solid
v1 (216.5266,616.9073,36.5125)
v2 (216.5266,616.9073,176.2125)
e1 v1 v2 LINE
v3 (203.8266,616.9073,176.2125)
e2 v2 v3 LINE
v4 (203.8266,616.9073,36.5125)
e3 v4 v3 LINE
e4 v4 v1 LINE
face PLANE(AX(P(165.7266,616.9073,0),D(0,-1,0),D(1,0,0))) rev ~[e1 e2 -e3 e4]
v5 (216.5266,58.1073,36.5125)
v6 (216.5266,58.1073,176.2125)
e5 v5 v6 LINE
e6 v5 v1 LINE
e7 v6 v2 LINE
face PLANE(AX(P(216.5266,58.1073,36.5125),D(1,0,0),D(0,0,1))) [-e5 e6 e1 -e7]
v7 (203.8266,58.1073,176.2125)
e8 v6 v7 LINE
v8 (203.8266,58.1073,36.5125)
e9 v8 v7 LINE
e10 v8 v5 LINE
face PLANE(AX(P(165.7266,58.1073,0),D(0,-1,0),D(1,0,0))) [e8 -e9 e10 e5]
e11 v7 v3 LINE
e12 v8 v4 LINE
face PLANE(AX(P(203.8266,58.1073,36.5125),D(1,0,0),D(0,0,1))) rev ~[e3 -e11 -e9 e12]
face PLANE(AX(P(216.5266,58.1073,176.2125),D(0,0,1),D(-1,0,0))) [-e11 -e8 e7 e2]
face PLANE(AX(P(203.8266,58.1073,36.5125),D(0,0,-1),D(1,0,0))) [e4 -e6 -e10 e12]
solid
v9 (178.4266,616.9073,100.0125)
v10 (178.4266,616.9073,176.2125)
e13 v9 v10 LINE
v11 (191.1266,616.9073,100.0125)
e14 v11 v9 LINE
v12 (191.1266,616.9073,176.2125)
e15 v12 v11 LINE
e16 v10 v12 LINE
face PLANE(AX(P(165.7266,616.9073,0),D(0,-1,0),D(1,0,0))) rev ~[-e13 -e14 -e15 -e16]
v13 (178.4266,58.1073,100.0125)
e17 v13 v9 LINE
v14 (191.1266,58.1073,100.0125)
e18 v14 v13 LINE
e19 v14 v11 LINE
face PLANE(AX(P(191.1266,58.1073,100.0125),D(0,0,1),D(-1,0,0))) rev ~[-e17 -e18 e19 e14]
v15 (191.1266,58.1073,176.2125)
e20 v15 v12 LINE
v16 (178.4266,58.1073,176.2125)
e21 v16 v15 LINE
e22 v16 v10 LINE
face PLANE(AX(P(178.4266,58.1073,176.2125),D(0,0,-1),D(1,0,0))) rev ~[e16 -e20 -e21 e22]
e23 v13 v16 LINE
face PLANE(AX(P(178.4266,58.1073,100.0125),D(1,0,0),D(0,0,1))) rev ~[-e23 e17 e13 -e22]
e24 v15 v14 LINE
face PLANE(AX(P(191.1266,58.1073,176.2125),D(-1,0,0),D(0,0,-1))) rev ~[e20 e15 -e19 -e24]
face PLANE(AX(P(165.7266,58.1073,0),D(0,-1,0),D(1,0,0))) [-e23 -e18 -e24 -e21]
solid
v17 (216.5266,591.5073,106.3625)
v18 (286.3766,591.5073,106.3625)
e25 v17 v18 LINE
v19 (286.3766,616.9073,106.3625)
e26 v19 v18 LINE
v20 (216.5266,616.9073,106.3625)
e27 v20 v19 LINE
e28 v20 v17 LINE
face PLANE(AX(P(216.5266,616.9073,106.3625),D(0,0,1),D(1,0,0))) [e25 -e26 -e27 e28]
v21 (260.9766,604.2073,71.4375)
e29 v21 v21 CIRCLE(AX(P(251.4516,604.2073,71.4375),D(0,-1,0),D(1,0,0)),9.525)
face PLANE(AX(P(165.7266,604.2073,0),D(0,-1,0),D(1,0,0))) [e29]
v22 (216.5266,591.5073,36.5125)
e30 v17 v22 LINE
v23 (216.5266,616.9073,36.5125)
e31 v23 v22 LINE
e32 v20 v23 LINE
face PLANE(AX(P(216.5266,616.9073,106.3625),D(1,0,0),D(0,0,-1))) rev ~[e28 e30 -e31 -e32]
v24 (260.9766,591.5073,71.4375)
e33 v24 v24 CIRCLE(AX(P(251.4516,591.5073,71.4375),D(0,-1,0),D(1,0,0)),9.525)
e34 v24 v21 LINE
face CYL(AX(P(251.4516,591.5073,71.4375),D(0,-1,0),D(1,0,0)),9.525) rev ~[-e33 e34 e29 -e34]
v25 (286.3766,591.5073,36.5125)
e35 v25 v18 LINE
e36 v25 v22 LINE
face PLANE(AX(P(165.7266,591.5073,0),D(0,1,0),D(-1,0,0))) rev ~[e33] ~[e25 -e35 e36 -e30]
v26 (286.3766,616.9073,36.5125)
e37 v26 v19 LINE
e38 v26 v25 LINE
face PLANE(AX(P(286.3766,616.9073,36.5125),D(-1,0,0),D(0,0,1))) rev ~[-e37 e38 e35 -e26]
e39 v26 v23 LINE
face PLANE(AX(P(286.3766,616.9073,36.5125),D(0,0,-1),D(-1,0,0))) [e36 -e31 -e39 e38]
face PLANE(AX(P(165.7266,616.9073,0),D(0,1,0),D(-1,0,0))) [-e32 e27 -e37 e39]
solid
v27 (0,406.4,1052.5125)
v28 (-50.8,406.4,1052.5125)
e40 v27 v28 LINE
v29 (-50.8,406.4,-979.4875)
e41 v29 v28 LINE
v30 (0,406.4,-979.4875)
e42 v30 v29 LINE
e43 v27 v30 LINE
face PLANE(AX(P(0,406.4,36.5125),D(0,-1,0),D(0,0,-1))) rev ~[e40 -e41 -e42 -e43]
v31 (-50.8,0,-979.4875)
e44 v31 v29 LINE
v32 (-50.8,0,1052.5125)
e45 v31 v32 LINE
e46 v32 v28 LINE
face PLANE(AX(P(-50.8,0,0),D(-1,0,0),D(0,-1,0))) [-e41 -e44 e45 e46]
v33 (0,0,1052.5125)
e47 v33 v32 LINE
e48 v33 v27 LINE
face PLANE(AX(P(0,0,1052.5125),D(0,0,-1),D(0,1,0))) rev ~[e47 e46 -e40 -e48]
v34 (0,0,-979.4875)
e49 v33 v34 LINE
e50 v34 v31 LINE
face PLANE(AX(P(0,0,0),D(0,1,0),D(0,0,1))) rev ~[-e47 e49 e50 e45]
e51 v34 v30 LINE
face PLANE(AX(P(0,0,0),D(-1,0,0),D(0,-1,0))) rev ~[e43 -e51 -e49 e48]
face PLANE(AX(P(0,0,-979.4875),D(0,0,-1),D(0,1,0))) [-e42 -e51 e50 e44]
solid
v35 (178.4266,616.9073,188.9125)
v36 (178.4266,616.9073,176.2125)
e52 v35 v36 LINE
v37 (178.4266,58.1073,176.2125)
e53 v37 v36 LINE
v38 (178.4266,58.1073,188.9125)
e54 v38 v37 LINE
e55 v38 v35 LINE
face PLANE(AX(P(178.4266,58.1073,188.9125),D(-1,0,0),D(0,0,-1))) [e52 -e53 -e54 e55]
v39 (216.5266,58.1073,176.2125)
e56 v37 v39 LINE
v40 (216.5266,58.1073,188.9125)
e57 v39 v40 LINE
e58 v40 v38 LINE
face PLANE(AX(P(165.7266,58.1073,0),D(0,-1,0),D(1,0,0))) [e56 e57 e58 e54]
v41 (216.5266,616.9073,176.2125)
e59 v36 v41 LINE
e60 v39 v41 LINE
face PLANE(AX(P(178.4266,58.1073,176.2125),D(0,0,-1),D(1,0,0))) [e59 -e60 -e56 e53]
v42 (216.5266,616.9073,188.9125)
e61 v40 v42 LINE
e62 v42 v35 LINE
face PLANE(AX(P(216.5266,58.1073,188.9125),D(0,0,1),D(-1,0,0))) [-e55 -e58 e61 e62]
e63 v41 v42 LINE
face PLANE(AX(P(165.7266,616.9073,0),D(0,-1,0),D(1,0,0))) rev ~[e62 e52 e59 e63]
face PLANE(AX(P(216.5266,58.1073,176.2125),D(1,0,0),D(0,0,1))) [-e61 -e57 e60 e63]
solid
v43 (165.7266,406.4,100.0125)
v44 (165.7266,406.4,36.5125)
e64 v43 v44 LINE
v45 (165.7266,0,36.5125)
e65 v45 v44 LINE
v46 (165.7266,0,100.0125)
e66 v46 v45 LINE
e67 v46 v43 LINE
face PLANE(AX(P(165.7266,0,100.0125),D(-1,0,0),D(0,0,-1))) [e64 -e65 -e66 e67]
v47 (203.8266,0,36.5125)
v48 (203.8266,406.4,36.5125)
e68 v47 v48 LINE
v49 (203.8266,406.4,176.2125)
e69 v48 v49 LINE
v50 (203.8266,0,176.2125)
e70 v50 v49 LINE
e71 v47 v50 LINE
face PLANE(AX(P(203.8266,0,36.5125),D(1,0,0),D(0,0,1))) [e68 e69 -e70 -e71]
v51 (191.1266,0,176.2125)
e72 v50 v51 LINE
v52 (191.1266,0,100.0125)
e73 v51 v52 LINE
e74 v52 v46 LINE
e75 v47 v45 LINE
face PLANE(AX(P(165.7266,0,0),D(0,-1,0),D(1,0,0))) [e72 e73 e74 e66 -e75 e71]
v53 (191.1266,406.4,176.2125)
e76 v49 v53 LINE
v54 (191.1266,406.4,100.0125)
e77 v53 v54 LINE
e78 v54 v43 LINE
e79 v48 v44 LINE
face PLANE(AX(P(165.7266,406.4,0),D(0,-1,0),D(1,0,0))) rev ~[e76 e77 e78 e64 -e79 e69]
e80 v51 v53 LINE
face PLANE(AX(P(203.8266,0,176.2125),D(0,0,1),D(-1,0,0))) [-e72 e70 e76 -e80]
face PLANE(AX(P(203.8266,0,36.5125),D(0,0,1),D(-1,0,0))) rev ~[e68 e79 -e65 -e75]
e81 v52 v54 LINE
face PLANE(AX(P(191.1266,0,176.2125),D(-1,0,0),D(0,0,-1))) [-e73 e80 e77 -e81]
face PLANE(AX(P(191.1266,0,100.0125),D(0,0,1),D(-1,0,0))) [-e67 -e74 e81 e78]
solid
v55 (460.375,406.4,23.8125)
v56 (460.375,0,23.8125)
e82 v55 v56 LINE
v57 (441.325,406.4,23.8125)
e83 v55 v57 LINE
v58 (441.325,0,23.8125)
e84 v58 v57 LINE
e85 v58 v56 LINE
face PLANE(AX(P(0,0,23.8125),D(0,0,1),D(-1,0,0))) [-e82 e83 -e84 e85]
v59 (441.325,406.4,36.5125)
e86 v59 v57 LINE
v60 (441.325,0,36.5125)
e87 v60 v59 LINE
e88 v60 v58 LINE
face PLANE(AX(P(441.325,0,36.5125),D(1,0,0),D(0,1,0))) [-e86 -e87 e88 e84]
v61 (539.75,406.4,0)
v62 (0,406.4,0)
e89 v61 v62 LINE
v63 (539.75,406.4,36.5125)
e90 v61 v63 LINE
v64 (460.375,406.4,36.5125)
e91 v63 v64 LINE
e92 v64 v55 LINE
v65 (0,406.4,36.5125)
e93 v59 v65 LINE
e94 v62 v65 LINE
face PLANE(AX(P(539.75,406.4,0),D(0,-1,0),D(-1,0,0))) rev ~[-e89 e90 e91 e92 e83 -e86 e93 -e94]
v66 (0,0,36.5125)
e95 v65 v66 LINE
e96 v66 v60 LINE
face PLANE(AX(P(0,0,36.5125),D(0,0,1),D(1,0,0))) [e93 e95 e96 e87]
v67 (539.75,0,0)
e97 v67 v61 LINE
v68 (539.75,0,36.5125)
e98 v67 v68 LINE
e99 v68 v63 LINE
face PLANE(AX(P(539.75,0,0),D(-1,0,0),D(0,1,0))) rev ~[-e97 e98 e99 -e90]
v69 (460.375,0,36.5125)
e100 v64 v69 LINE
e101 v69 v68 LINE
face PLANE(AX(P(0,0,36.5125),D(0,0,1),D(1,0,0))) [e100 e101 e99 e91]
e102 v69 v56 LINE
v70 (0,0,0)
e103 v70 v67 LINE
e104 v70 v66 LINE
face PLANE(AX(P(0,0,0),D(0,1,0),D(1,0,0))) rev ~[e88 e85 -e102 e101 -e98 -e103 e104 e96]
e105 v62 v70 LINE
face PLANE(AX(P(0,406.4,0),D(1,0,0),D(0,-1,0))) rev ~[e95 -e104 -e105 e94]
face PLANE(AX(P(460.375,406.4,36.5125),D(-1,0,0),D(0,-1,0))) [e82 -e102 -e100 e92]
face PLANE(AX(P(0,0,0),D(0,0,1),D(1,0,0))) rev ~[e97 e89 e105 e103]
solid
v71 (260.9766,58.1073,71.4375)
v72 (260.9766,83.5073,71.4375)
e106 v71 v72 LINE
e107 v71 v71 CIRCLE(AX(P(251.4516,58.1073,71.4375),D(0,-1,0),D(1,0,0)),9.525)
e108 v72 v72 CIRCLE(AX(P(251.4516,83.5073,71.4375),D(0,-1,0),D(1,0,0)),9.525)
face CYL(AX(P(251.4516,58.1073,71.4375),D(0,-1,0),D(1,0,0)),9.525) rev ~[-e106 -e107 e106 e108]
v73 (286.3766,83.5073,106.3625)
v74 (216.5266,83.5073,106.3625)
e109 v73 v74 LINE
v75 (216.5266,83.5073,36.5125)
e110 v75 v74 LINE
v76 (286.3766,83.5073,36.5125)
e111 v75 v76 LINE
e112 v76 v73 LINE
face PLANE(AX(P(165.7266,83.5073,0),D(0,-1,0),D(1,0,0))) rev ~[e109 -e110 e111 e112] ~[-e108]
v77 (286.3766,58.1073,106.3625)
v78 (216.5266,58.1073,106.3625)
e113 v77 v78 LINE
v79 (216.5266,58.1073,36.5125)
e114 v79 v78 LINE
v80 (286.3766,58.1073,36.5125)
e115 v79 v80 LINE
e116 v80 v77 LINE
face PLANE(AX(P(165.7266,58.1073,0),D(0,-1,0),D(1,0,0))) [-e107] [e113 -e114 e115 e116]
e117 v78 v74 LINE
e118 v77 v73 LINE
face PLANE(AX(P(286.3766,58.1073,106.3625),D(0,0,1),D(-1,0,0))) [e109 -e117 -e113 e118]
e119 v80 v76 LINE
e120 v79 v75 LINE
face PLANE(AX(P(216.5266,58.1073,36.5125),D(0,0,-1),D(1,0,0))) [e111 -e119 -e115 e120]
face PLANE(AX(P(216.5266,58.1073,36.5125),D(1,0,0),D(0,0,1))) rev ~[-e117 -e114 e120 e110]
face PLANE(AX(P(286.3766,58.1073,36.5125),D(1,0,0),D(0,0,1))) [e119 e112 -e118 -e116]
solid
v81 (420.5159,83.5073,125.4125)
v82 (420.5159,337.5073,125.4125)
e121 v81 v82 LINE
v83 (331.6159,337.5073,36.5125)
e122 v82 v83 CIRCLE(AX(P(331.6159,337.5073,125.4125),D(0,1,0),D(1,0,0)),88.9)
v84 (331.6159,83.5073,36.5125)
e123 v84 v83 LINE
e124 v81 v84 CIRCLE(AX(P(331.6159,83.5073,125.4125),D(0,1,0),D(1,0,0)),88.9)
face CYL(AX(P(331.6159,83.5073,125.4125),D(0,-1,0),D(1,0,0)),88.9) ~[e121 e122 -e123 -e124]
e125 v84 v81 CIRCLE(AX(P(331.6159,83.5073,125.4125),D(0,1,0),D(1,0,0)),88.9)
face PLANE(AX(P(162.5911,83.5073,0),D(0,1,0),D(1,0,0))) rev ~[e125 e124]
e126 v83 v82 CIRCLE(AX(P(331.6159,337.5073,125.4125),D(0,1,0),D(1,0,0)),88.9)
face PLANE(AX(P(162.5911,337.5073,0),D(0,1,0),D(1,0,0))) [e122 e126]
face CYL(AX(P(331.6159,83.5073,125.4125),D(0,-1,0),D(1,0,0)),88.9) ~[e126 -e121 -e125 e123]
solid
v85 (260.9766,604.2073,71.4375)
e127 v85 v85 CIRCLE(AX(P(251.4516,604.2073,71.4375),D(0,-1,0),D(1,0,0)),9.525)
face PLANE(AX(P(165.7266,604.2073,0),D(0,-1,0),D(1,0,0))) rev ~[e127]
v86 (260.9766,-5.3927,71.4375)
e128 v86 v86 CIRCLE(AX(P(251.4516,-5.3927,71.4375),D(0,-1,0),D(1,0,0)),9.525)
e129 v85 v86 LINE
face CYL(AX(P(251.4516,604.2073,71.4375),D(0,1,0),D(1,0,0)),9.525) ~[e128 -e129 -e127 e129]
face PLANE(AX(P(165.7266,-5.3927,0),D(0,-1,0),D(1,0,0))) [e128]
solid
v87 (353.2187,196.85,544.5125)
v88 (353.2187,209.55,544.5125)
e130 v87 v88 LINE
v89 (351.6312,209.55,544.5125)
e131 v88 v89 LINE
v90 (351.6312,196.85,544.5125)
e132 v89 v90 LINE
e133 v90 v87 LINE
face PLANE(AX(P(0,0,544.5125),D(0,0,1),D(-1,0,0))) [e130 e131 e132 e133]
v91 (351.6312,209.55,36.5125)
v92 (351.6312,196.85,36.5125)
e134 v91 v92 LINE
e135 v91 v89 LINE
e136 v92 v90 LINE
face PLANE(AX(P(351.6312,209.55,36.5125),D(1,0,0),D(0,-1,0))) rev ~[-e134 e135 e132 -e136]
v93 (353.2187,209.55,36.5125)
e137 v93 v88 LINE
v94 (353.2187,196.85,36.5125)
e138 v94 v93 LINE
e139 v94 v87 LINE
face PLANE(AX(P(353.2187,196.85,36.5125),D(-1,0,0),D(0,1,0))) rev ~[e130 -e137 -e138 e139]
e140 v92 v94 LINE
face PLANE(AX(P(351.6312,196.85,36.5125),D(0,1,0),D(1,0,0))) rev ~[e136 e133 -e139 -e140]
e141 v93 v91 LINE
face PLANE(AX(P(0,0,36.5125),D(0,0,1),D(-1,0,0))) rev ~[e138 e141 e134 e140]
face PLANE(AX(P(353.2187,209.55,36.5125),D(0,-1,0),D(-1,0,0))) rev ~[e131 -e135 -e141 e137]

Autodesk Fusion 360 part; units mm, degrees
sketch "basicTable" plane through (0, 0, 0) normal (0, 0, 1) x (1, 0, 0) in component "table"
  line L0 (0, 0) -> (539.75, 0)
  line L1 (539.75, 0) -> (539.75, 406.4)
  line L2 (539.75, 406.4) -> (0, 406.4)
  line L3 (0, 406.4) -> (0, 0)
  dimension "d40" = 539.75
  dimension "d41" = 406.4
extrude "ExtrudeTableThickness" add sketch "basicTable" along normal blind 36.5125 makes body 1 in component "table"
sketch "miterOutline and Blade Placement" plane through (0, 0, 36.5125) normal (0, 0, 1) x (-1, 0, 0) in component "table"
  line L0 (0, -406.4) -> (0, 0)
  line L1 (0, 0) -> (-539.75, 0)
  line L2 (-539.75, 0) -> (-539.75, -406.4)
  line L3 (-539.75, -406.4) -> (0, -406.4)
  line L4 (-441.325, -406.4) -> (-460.375, -406.4)
  line L5 (-460.375, -406.4) -> (-460.375, 0)
  line L6 (-460.375, 0) -> (-441.325, 0)
  line L7 (-441.325, 0) -> (-441.325, -406.4)
  line L8 (-352.425, -406.4) -> (-352.425, 0) construction
  line L9 (-441.325, -203.2) -> (0, -203.2) construction
  point P0 (-352.425, -203.2)
  dimension "d44" = 79.375
  dimension "d45" = 19.05
  dimension "d46" = 88.9
  dimension "d47" = 203.2
extrude "ExtrudeMiterSlot" cut sketch "miterOutline and Blade Placement" against normal blind 12.7 contours L1 L3 L4 L5 L6 L7 bodies 1 in component "table"
sketch "Sketch1" plane through (0, 0, 36.5125) normal (0, 0, 1) x (-1, 0, 0) in component "BandsawBlade"
  line L0 (-351.6312, -196.85) -> (-353.2187, -196.85)
  line L1 (-353.2187, -196.85) -> (-353.2187, -209.55)
  line L2 (-353.2187, -209.55) -> (-351.6312, -209.55)
  line L3 (-351.6312, -209.55) -> (-351.6312, -196.85)
  line L4 (-351.6312, -196.85) -> (-353.2187, -209.55) construction
  line L5 (-353.2187, -196.85) -> (-351.6312, -209.55) construction
  point P0 (-352.425, -203.2)
  point P1 (-352.425, -203.2)
  dimension "d76" = 1.5875
  dimension "d77" = 12.7
extrude "Extrude1" add sketch "Sketch1" along normal blind 508 separate body makes body 2 in component "BandsawBlade"
sketch "logCylinder" plane through (0, 0, 0) normal (0, 1, 0) x (1, 0, 0) in component "Log"
  circle A0 centre (169.0248, -125.4125) radius 88.9
  line L0 (0, -36.5125) -> (441.325, -36.5125)
  point P0 (169.0248, -125.4125)
  point P1 (139.7, -76.2)
  dimension "d204" = 177.8
extrude "Extrude1'" add sketch "logCylinder" along normal blind 254 separate body makes body 3 in component "Log"
sketch "Sketch2" plane through (0, 0, 36.5125) normal (0, 0, 1) x (-1, 0, 0)
  line L0 (-441.325, 0) -> (-441.325, -406.4)
  line L1 (-441.325, -406.4) -> (0, -406.4)
  line L2 (0, -406.4) -> (0, 0)
  line L3 (0, 0) -> (-441.325, 0)
sketch "Sketch3" plane through (0, 0, 0) normal (0, -1, 0) x (1, 0, 0)
  line L0 (460.375, 36.5125) -> (460.375, 23.8125)
  line L1 (460.375, 23.8125) -> (441.325, 23.8125)
  line L2 (441.325, 23.8125) -> (441.325, 36.5125)
  line L3 (441.325, 36.5125) -> (0, 36.5125)
  line L4 (0, 36.5125) -> (0, 0)
  line L5 (0, 0) -> (539.75, 0)
  line L6 (539.75, 0) -> (539.75, 36.5125)
  line L7 (539.75, 36.5125) -> (460.375, 36.5125)
sketch "Sketch1 (2)" plane through (0, 0, 0) normal (0, -1, 0) x (1, 0, 0) in component "Fence"
  line L0 (441.325, 36.5125) -> (0, 36.5125)
  line L1 (38.1, 36.5125) -> (0, 36.5125)
  line L2 (38.1, 36.5125) -> (38.1, 176.2125)
  line L3 (38.1, 176.2125) -> (25.4, 176.2125)
  line L4 (25.4, 176.2125) -> (25.4, 100.0125)
  line L5 (25.4, 100.0125) -> (0, 100.0125)
  line L6 (0, 100.0125) -> (0, 36.5125)
  point P0 (0, 36.5125)
  dimension "d255" = 38.1
  dimension "d256" = 139.7
  dimension "d257" = 12.7
  dimension "d258" = 76.2
  dimension "d259" = 25.4
extrude "Extrude1''" add sketch "Sketch1 (2)" against normal blind 406.4 separate body makes body 4 in component "Fence"
sketch "leftJigPlate" plane through (0, 0, 0) normal (0, -1, 0) x (1, 0, 0) in component "jig"
  line L0 (25.4, 100.0125) -> (12.7, 100.0125)
  line L1 (12.7, 100.0125) -> (12.7, 176.2125)
  line L2 (12.7, 176.2125) -> (25.4, 176.2125)
  line L3 (25.4, 176.2125) -> (25.4, 100.0125)
  point P0 (25.4, 100.0125)
  dimension "d263" = 12.7
  dimension "d264" = 76.2
sketch "topJigPlate" plane through (0, 0, 0) normal (0, -1, 0) x (1, 0, 0) in component "jig"
  line L0 (12.7, 176.2125) -> (50.8, 176.2125)
  line L1 (50.8, 176.2125) -> (50.8, 188.9125)
  line L2 (50.8, 188.9125) -> (12.7, 188.9125)
  line L3 (12.7, 188.9125) -> (12.7, 176.2125)
  point P0 (12.7, 176.2125)
  dimension "d265" = 38.1
  dimension "d266" = 12.7
sketch "rightJigPlate" plane through (0, 0, 0) normal (0, -1, 0) x (1, 0, 0) in component "jig"
  line L0 (38.1, 36.5125) -> (38.1, 176.2125)
  line L1 (38.1, 176.2125) -> (25.4, 176.2125)
  line L2 (25.4, 176.2125) -> (25.4, 100.0125)
  line L3 (25.4, 100.0125) -> (0, 100.0125)
  line L4 (0, 100.0125) -> (0, 36.5125)
  line L5 (0, 36.5125) -> (38.1, 36.5125)
  line L6 (50.8, 176.2125) -> (38.1, 176.2125)
  line L7 (38.1, 176.2125) -> (38.1, 36.5125)
  line L8 (38.1, 36.5125) -> (50.8, 36.5125)
  line L9 (50.8, 36.5125) -> (50.8, 176.2125)
  point P0 (50.8, 176.2125)
extrude "Extrude1'''" add sketch "leftJigPlate" against normal blind 558.8 separate body makes body 5 in component "jig"
extrude "Extrude2" add sketch "topJigPlate" against normal blind 558.8 separate body makes body 6 in component "jig"
extrude "Extrude3" add sketch "rightJigPlate" against normal blind 558.8 separate body contours L0 L6 L7 L8 L9 makes body 7 in component "jig"
sketch "frontJigBlock" plane through (0, 0, 0) normal (0, -1, 0) x (1, 0, 0) in component "jig"
  line L0 (50.8, 36.5125) -> (50.8, 176.2125)
  line L1 (50.8, 176.2125) -> (38.1, 176.2125)
  line L2 (38.1, 176.2125) -> (38.1, 36.5125)
  line L3 (38.1, 36.5125) -> (50.8, 36.5125)
  line L4 (50.8, 36.5125) -> (120.65, 36.5125)
  line L5 (120.65, 36.5125) -> (120.65, 106.3625)
  line L6 (120.65, 106.3625) -> (50.8, 106.3625)
  line L7 (50.8, 106.3625) -> (50.8, 36.5125)
  dimension "d274" = 69.85
  dimension "d275" = 69.85
sketch "backJigBlock" plane through (0, 558.8, 0) normal (0, 1, 0) x (-1, 0, 0) in component "jig"
  line L0 (-50.8, 176.2125) -> (-50.8, 36.5125)
  line L1 (-50.8, 36.5125) -> (-38.1, 36.5125)
  line L2 (-38.1, 36.5125) -> (-38.1, 176.2125)
  line L3 (-38.1, 176.2125) -> (-50.8, 176.2125)
  line L4 (-120.65, 36.5125) -> (-50.8, 36.5125)
  line L5 (-50.8, 106.3625) -> (-120.65, 106.3625)
  line L6 (-50.8, 36.5125) -> (-50.8, 106.3625)
  line L7 (-120.65, 36.5125) -> (-120.65, 106.3625)
  dimension "d277" = 69.85
  dimension "d278" = 69.85
extrude "Extrude4" add sketch "frontJigBlock" against normal blind 25.4 separate body contours L0 L4 L5 L6 L7 makes body 8 in component "jig"
extrude "Extrude5" add sketch "backJigBlock" against normal blind 25.4 separate body contours L0 L4 L5 L6 L7 makes body 9 in component "jig"
copy_body "Body->Comp1" bodies 5 removing the originals makes body 10 in component "leftJigPlate"
copy_body "Body->Comp2" bodies 8 removing the originals makes body 11 in component "frontJigPlate"
copy_body "Body->Comp3" bodies 6 removing the originals makes body 12 in component "topJigPlate"
copy_body "Body->Comp4" bodies 7 removing the originals makes body 13 in component "rightJigPlate"
copy_body "Body->Comp5" bodies 9 removing the originals makes body 14 in component "rearJigPlate"
sketch "Sketch1 (3)" plane through (0, 533.4, 0) normal (0, -1, 0) x (1, 0, 0) in component "rearJigPlate"
  line L0 (50.8, 106.3625) -> (50.8, 36.5125)
  line L1 (50.8, 36.5125) -> (120.65, 36.5125)
  line L2 (120.65, 36.5125) -> (120.65, 106.3625)
  line L3 (120.65, 106.3625) -> (50.8, 106.3625)
  line L4 (50.8, 71.4375) -> (120.65, 71.4375) construction
  line L5 (85.725, 106.3625) -> (85.725, 36.5125) construction
  circle A0 centre (85.725, 71.4375) radius 9.525
  dimension "d283" = 19.05
extrude "Extrude1''''" cut sketch "Sketch1 (3)" against normal blind 12.7 contours A0 bodies 14 in component "rearJigPlate"
sketch "Sketch1 (4)" plane through (0, 0, 0) normal (0, -1, 0) x (1, 0, 0) in component "frontJigPlate"
  line L0 (50.8, 106.3625) -> (50.8, 36.5125)
  line L1 (120.65, 36.5125) -> (120.65, 106.3625)
  line L2 (50.8, 71.4375) -> (120.65, 71.4375) construction
  line L3 (50.8, 36.5125) -> (120.65, 36.5125)
  line L4 (120.65, 106.3625) -> (50.8, 106.3625)
  line L5 (85.725, 36.5125) -> (85.725, 106.3625) construction
  circle A0 centre (85.725, 71.4375) radius 9.525
  dimension "d286" = 19.05
extrude "Extrude1'''''" cut sketch "Sketch1 (4)" against normal blind 25.4 contours A0 bodies 11 in component "frontJigPlate"
extrude "Extrude1''''''" add 1 faces at (86.3729, 546.1, 77.328) along direction (0, -1, 0) blind 609.6 separate body on bodies 14 makes body 15 in component "pipe"
sketch "centerPointTangentLine" plane through (0, 0, 0) normal (0, -1, 0) x (1, 0, 0) in component "Log"
  circle A0 centre (169.0248, 125.4125) radius 88.9
  line L0 (169.0248, 125.4125) -> (169.0248, 36.5125) construction
  line L1 (169.0248, 71.4375) -> (98.3855, 71.4375) construction
  point P0 (169.0248, 125.4125)
  point P1 (169.0248, 71.4375)
  dimension "d344" = 34.925
sketch "Sketch1 (5)" plane through (0, -63.5, 0) normal (0, -1, 0) x (1, 0, 0) in component "pipe"
  circle A0 centre (85.725, 71.4375) radius 9.525
  line L0 (85.725, 71.4375) -> (95.25, 71.4375) construction
  point P0 (85.725, 71.4375)
sketch "Sketch1 (6)" plane through (0, 0, 0) normal (-1, 0, 0) x (0, -1, 0) in component "bandsawFrame"
  line L0 (-406.4, 0) -> (0, 0)
  line L1 (0, 0) -> (0, 36.5125)
  line L2 (0, 36.5125) -> (-406.4, 36.5125)
  line L3 (-406.4, 36.5125) -> (-406.4, 0)
  line L4 (-406.4, 36.5125) -> (0, 36.5125)
  line L5 (0, 36.5125) -> (0, 1052.5125)
  line L6 (0, 1052.5125) -> (-406.4, 1052.5125)
  line L7 (-406.4, 1052.5125) -> (-406.4, 36.5125)
  line L8 (-406.4, 36.5125) -> (0, 36.5125)
  line L9 (0, 36.5125) -> (0, -979.4875)
  line L10 (0, -979.4875) -> (-406.4, -979.4875)
  line L11 (-406.4, -979.4875) -> (-406.4, 36.5125)
  dimension "d359" = 406.4
  dimension "d360" = 1016
  dimension "d361" = 406.4
  dimension "d362" = 1016
extrude "Extrude1'''''''" add sketch "Sketch1 (6)" along normal blind 50.8 separate body makes body 16 in component "bandsawFrame"
component "table" placed x (1, 0, 0) y (0, 1, 0) z (0, 0, 1) at (0, 0, 0)
component "BandsawBlade" placed x (1, 0, 0) y (0, 1, 0) z (0, 0, 1) at (0, 0, 0)
component "Log" placed x (1, 0, 0) y (0, 1, 0) z (0, 0, 1) at (162.5911, 83.5073, 0)
component "Fence" placed x (1, 0, 0) y (0, 1, 0) z (0, 0, 1) at (165.7266, 0, 0)
component "jig" placed x (1, 0, 0) y (0, 1, 0) z (0, 0, 1) at (165.7266, 58.1073, 0)
component "pipe" placed x (1, 0, 0) y (0, 1, 0) z (0, 0, 1) at (165.7266, 58.1073, 0)
component "bandsawFrame" placed x (1, 0, 0) y (0, 1, 0) z (0, 0, 1) at (0, 0, 0)
component "leftJigPlate" placed x (1, 0, 0) y (0, 1, 0) z (0, 0, 1) at (0, 0, 0) in component "jig"
component "frontJigPlate" placed x (1, 0, 0) y (0, 1, 0) z (0, 0, 1) at (0, 0, 0) in component "jig"
component "topJigPlate" placed x (1, 0, 0) y (0, 1, 0) z (0, 0, 1) at (0, 0, 0) in component "jig"
component "rightJigPlate" placed x (1, 0, 0) y (0, 1, 0) z (0, 0, 1) at (0, 0, 0) in component "jig"
component "rearJigPlate" placed x (1, 0, 0) y (0, 1, 0) z (0, 0, 1) at (0, 0, 0) in component "jig"
equation "tableWidth = 21.25 in"
equation "tableDepth = 16 in"
equation "miterWidth = 0.75 in"
equation "miterHeight = 0.5 in"
equation "tableThickness = 1 in + ( ( 7 / 16 ) * 1 in )"
equation "MiterEdgeToRightTableEdge = 3 in + ( ( 1 / 8 ) * 1 in )"
equation "MiterEdgeToBlade = 3.5 in"
equation "bladeDistanceFromFront = 8 in"
equation "d40 = tableWidth"
equation "d41 = tableDepth"
equation "d42 = tableThickness"
equation "d44 = MiterEdgeToRightTableEdge"
equation "d45 = miterWidth"
equation "d46 = MiterEdgeToBlade"
equation "d47 = bladeDistanceFromFront"
equation "d48 = -miterHeight"
equation "bladeThickness = ( 1 / 16 ) * 1 in"
equation "bladeWidth = ( 1 / 2 ) * 1 in"
equation "bladeHeight = 20 in"
equation "d76 = bladeThickness"
equation "d77 = bladeWidth"
equation "d78 = bladeHeight"
equation "d204 = logDiameter"
equation "logDiameter = 7 in"
equation "logDepth = 10 in"
equation "d207 = logDepth"
equation "d243 = logDiameter / 2"
equation "d245 = logDepth / 2"
equation "d260 = -tableDepth"
equation "d266 = ( 1 / 2 ) * 1 in"
equation "jigDepth = tableDepth + 6 in"
equation "d268 = -jigDepth"
equation "d270 = -jigDepth"
equation "d272 = -jigDepth"
equation "d274 = jigBlockWidth"
equation "d275 = jigBlockHeight"
equation "jigBlockDepth = 1 in"
equation "d277 = jigBlockWidth"
equation "d278 = jigBlockHeight"
equation "d279 = -jigBlockDepth"
equation "d281 = -jigBlockDepth"
equation "d283 = ( 3 / 4 ) * 1 in"
equation "d284 = -jigBlockDepth / 2"
equation "d286 = ( 3 / 4 ) * 1 in"
equation "d287 = -jigBlockDepth"
equation "d313 = pipeLength"
equation "pipeLength = 24 in"
equation "d333 = logDiameter / 2"
equation "d344 = jigBlockHeight / 2"
equation "jigBlockWidth = 2.75 in"
equation "jigBlockHeight = 2.75 in"
equation "d359 = tableDepth"
equation "d361 = tableDepth"
